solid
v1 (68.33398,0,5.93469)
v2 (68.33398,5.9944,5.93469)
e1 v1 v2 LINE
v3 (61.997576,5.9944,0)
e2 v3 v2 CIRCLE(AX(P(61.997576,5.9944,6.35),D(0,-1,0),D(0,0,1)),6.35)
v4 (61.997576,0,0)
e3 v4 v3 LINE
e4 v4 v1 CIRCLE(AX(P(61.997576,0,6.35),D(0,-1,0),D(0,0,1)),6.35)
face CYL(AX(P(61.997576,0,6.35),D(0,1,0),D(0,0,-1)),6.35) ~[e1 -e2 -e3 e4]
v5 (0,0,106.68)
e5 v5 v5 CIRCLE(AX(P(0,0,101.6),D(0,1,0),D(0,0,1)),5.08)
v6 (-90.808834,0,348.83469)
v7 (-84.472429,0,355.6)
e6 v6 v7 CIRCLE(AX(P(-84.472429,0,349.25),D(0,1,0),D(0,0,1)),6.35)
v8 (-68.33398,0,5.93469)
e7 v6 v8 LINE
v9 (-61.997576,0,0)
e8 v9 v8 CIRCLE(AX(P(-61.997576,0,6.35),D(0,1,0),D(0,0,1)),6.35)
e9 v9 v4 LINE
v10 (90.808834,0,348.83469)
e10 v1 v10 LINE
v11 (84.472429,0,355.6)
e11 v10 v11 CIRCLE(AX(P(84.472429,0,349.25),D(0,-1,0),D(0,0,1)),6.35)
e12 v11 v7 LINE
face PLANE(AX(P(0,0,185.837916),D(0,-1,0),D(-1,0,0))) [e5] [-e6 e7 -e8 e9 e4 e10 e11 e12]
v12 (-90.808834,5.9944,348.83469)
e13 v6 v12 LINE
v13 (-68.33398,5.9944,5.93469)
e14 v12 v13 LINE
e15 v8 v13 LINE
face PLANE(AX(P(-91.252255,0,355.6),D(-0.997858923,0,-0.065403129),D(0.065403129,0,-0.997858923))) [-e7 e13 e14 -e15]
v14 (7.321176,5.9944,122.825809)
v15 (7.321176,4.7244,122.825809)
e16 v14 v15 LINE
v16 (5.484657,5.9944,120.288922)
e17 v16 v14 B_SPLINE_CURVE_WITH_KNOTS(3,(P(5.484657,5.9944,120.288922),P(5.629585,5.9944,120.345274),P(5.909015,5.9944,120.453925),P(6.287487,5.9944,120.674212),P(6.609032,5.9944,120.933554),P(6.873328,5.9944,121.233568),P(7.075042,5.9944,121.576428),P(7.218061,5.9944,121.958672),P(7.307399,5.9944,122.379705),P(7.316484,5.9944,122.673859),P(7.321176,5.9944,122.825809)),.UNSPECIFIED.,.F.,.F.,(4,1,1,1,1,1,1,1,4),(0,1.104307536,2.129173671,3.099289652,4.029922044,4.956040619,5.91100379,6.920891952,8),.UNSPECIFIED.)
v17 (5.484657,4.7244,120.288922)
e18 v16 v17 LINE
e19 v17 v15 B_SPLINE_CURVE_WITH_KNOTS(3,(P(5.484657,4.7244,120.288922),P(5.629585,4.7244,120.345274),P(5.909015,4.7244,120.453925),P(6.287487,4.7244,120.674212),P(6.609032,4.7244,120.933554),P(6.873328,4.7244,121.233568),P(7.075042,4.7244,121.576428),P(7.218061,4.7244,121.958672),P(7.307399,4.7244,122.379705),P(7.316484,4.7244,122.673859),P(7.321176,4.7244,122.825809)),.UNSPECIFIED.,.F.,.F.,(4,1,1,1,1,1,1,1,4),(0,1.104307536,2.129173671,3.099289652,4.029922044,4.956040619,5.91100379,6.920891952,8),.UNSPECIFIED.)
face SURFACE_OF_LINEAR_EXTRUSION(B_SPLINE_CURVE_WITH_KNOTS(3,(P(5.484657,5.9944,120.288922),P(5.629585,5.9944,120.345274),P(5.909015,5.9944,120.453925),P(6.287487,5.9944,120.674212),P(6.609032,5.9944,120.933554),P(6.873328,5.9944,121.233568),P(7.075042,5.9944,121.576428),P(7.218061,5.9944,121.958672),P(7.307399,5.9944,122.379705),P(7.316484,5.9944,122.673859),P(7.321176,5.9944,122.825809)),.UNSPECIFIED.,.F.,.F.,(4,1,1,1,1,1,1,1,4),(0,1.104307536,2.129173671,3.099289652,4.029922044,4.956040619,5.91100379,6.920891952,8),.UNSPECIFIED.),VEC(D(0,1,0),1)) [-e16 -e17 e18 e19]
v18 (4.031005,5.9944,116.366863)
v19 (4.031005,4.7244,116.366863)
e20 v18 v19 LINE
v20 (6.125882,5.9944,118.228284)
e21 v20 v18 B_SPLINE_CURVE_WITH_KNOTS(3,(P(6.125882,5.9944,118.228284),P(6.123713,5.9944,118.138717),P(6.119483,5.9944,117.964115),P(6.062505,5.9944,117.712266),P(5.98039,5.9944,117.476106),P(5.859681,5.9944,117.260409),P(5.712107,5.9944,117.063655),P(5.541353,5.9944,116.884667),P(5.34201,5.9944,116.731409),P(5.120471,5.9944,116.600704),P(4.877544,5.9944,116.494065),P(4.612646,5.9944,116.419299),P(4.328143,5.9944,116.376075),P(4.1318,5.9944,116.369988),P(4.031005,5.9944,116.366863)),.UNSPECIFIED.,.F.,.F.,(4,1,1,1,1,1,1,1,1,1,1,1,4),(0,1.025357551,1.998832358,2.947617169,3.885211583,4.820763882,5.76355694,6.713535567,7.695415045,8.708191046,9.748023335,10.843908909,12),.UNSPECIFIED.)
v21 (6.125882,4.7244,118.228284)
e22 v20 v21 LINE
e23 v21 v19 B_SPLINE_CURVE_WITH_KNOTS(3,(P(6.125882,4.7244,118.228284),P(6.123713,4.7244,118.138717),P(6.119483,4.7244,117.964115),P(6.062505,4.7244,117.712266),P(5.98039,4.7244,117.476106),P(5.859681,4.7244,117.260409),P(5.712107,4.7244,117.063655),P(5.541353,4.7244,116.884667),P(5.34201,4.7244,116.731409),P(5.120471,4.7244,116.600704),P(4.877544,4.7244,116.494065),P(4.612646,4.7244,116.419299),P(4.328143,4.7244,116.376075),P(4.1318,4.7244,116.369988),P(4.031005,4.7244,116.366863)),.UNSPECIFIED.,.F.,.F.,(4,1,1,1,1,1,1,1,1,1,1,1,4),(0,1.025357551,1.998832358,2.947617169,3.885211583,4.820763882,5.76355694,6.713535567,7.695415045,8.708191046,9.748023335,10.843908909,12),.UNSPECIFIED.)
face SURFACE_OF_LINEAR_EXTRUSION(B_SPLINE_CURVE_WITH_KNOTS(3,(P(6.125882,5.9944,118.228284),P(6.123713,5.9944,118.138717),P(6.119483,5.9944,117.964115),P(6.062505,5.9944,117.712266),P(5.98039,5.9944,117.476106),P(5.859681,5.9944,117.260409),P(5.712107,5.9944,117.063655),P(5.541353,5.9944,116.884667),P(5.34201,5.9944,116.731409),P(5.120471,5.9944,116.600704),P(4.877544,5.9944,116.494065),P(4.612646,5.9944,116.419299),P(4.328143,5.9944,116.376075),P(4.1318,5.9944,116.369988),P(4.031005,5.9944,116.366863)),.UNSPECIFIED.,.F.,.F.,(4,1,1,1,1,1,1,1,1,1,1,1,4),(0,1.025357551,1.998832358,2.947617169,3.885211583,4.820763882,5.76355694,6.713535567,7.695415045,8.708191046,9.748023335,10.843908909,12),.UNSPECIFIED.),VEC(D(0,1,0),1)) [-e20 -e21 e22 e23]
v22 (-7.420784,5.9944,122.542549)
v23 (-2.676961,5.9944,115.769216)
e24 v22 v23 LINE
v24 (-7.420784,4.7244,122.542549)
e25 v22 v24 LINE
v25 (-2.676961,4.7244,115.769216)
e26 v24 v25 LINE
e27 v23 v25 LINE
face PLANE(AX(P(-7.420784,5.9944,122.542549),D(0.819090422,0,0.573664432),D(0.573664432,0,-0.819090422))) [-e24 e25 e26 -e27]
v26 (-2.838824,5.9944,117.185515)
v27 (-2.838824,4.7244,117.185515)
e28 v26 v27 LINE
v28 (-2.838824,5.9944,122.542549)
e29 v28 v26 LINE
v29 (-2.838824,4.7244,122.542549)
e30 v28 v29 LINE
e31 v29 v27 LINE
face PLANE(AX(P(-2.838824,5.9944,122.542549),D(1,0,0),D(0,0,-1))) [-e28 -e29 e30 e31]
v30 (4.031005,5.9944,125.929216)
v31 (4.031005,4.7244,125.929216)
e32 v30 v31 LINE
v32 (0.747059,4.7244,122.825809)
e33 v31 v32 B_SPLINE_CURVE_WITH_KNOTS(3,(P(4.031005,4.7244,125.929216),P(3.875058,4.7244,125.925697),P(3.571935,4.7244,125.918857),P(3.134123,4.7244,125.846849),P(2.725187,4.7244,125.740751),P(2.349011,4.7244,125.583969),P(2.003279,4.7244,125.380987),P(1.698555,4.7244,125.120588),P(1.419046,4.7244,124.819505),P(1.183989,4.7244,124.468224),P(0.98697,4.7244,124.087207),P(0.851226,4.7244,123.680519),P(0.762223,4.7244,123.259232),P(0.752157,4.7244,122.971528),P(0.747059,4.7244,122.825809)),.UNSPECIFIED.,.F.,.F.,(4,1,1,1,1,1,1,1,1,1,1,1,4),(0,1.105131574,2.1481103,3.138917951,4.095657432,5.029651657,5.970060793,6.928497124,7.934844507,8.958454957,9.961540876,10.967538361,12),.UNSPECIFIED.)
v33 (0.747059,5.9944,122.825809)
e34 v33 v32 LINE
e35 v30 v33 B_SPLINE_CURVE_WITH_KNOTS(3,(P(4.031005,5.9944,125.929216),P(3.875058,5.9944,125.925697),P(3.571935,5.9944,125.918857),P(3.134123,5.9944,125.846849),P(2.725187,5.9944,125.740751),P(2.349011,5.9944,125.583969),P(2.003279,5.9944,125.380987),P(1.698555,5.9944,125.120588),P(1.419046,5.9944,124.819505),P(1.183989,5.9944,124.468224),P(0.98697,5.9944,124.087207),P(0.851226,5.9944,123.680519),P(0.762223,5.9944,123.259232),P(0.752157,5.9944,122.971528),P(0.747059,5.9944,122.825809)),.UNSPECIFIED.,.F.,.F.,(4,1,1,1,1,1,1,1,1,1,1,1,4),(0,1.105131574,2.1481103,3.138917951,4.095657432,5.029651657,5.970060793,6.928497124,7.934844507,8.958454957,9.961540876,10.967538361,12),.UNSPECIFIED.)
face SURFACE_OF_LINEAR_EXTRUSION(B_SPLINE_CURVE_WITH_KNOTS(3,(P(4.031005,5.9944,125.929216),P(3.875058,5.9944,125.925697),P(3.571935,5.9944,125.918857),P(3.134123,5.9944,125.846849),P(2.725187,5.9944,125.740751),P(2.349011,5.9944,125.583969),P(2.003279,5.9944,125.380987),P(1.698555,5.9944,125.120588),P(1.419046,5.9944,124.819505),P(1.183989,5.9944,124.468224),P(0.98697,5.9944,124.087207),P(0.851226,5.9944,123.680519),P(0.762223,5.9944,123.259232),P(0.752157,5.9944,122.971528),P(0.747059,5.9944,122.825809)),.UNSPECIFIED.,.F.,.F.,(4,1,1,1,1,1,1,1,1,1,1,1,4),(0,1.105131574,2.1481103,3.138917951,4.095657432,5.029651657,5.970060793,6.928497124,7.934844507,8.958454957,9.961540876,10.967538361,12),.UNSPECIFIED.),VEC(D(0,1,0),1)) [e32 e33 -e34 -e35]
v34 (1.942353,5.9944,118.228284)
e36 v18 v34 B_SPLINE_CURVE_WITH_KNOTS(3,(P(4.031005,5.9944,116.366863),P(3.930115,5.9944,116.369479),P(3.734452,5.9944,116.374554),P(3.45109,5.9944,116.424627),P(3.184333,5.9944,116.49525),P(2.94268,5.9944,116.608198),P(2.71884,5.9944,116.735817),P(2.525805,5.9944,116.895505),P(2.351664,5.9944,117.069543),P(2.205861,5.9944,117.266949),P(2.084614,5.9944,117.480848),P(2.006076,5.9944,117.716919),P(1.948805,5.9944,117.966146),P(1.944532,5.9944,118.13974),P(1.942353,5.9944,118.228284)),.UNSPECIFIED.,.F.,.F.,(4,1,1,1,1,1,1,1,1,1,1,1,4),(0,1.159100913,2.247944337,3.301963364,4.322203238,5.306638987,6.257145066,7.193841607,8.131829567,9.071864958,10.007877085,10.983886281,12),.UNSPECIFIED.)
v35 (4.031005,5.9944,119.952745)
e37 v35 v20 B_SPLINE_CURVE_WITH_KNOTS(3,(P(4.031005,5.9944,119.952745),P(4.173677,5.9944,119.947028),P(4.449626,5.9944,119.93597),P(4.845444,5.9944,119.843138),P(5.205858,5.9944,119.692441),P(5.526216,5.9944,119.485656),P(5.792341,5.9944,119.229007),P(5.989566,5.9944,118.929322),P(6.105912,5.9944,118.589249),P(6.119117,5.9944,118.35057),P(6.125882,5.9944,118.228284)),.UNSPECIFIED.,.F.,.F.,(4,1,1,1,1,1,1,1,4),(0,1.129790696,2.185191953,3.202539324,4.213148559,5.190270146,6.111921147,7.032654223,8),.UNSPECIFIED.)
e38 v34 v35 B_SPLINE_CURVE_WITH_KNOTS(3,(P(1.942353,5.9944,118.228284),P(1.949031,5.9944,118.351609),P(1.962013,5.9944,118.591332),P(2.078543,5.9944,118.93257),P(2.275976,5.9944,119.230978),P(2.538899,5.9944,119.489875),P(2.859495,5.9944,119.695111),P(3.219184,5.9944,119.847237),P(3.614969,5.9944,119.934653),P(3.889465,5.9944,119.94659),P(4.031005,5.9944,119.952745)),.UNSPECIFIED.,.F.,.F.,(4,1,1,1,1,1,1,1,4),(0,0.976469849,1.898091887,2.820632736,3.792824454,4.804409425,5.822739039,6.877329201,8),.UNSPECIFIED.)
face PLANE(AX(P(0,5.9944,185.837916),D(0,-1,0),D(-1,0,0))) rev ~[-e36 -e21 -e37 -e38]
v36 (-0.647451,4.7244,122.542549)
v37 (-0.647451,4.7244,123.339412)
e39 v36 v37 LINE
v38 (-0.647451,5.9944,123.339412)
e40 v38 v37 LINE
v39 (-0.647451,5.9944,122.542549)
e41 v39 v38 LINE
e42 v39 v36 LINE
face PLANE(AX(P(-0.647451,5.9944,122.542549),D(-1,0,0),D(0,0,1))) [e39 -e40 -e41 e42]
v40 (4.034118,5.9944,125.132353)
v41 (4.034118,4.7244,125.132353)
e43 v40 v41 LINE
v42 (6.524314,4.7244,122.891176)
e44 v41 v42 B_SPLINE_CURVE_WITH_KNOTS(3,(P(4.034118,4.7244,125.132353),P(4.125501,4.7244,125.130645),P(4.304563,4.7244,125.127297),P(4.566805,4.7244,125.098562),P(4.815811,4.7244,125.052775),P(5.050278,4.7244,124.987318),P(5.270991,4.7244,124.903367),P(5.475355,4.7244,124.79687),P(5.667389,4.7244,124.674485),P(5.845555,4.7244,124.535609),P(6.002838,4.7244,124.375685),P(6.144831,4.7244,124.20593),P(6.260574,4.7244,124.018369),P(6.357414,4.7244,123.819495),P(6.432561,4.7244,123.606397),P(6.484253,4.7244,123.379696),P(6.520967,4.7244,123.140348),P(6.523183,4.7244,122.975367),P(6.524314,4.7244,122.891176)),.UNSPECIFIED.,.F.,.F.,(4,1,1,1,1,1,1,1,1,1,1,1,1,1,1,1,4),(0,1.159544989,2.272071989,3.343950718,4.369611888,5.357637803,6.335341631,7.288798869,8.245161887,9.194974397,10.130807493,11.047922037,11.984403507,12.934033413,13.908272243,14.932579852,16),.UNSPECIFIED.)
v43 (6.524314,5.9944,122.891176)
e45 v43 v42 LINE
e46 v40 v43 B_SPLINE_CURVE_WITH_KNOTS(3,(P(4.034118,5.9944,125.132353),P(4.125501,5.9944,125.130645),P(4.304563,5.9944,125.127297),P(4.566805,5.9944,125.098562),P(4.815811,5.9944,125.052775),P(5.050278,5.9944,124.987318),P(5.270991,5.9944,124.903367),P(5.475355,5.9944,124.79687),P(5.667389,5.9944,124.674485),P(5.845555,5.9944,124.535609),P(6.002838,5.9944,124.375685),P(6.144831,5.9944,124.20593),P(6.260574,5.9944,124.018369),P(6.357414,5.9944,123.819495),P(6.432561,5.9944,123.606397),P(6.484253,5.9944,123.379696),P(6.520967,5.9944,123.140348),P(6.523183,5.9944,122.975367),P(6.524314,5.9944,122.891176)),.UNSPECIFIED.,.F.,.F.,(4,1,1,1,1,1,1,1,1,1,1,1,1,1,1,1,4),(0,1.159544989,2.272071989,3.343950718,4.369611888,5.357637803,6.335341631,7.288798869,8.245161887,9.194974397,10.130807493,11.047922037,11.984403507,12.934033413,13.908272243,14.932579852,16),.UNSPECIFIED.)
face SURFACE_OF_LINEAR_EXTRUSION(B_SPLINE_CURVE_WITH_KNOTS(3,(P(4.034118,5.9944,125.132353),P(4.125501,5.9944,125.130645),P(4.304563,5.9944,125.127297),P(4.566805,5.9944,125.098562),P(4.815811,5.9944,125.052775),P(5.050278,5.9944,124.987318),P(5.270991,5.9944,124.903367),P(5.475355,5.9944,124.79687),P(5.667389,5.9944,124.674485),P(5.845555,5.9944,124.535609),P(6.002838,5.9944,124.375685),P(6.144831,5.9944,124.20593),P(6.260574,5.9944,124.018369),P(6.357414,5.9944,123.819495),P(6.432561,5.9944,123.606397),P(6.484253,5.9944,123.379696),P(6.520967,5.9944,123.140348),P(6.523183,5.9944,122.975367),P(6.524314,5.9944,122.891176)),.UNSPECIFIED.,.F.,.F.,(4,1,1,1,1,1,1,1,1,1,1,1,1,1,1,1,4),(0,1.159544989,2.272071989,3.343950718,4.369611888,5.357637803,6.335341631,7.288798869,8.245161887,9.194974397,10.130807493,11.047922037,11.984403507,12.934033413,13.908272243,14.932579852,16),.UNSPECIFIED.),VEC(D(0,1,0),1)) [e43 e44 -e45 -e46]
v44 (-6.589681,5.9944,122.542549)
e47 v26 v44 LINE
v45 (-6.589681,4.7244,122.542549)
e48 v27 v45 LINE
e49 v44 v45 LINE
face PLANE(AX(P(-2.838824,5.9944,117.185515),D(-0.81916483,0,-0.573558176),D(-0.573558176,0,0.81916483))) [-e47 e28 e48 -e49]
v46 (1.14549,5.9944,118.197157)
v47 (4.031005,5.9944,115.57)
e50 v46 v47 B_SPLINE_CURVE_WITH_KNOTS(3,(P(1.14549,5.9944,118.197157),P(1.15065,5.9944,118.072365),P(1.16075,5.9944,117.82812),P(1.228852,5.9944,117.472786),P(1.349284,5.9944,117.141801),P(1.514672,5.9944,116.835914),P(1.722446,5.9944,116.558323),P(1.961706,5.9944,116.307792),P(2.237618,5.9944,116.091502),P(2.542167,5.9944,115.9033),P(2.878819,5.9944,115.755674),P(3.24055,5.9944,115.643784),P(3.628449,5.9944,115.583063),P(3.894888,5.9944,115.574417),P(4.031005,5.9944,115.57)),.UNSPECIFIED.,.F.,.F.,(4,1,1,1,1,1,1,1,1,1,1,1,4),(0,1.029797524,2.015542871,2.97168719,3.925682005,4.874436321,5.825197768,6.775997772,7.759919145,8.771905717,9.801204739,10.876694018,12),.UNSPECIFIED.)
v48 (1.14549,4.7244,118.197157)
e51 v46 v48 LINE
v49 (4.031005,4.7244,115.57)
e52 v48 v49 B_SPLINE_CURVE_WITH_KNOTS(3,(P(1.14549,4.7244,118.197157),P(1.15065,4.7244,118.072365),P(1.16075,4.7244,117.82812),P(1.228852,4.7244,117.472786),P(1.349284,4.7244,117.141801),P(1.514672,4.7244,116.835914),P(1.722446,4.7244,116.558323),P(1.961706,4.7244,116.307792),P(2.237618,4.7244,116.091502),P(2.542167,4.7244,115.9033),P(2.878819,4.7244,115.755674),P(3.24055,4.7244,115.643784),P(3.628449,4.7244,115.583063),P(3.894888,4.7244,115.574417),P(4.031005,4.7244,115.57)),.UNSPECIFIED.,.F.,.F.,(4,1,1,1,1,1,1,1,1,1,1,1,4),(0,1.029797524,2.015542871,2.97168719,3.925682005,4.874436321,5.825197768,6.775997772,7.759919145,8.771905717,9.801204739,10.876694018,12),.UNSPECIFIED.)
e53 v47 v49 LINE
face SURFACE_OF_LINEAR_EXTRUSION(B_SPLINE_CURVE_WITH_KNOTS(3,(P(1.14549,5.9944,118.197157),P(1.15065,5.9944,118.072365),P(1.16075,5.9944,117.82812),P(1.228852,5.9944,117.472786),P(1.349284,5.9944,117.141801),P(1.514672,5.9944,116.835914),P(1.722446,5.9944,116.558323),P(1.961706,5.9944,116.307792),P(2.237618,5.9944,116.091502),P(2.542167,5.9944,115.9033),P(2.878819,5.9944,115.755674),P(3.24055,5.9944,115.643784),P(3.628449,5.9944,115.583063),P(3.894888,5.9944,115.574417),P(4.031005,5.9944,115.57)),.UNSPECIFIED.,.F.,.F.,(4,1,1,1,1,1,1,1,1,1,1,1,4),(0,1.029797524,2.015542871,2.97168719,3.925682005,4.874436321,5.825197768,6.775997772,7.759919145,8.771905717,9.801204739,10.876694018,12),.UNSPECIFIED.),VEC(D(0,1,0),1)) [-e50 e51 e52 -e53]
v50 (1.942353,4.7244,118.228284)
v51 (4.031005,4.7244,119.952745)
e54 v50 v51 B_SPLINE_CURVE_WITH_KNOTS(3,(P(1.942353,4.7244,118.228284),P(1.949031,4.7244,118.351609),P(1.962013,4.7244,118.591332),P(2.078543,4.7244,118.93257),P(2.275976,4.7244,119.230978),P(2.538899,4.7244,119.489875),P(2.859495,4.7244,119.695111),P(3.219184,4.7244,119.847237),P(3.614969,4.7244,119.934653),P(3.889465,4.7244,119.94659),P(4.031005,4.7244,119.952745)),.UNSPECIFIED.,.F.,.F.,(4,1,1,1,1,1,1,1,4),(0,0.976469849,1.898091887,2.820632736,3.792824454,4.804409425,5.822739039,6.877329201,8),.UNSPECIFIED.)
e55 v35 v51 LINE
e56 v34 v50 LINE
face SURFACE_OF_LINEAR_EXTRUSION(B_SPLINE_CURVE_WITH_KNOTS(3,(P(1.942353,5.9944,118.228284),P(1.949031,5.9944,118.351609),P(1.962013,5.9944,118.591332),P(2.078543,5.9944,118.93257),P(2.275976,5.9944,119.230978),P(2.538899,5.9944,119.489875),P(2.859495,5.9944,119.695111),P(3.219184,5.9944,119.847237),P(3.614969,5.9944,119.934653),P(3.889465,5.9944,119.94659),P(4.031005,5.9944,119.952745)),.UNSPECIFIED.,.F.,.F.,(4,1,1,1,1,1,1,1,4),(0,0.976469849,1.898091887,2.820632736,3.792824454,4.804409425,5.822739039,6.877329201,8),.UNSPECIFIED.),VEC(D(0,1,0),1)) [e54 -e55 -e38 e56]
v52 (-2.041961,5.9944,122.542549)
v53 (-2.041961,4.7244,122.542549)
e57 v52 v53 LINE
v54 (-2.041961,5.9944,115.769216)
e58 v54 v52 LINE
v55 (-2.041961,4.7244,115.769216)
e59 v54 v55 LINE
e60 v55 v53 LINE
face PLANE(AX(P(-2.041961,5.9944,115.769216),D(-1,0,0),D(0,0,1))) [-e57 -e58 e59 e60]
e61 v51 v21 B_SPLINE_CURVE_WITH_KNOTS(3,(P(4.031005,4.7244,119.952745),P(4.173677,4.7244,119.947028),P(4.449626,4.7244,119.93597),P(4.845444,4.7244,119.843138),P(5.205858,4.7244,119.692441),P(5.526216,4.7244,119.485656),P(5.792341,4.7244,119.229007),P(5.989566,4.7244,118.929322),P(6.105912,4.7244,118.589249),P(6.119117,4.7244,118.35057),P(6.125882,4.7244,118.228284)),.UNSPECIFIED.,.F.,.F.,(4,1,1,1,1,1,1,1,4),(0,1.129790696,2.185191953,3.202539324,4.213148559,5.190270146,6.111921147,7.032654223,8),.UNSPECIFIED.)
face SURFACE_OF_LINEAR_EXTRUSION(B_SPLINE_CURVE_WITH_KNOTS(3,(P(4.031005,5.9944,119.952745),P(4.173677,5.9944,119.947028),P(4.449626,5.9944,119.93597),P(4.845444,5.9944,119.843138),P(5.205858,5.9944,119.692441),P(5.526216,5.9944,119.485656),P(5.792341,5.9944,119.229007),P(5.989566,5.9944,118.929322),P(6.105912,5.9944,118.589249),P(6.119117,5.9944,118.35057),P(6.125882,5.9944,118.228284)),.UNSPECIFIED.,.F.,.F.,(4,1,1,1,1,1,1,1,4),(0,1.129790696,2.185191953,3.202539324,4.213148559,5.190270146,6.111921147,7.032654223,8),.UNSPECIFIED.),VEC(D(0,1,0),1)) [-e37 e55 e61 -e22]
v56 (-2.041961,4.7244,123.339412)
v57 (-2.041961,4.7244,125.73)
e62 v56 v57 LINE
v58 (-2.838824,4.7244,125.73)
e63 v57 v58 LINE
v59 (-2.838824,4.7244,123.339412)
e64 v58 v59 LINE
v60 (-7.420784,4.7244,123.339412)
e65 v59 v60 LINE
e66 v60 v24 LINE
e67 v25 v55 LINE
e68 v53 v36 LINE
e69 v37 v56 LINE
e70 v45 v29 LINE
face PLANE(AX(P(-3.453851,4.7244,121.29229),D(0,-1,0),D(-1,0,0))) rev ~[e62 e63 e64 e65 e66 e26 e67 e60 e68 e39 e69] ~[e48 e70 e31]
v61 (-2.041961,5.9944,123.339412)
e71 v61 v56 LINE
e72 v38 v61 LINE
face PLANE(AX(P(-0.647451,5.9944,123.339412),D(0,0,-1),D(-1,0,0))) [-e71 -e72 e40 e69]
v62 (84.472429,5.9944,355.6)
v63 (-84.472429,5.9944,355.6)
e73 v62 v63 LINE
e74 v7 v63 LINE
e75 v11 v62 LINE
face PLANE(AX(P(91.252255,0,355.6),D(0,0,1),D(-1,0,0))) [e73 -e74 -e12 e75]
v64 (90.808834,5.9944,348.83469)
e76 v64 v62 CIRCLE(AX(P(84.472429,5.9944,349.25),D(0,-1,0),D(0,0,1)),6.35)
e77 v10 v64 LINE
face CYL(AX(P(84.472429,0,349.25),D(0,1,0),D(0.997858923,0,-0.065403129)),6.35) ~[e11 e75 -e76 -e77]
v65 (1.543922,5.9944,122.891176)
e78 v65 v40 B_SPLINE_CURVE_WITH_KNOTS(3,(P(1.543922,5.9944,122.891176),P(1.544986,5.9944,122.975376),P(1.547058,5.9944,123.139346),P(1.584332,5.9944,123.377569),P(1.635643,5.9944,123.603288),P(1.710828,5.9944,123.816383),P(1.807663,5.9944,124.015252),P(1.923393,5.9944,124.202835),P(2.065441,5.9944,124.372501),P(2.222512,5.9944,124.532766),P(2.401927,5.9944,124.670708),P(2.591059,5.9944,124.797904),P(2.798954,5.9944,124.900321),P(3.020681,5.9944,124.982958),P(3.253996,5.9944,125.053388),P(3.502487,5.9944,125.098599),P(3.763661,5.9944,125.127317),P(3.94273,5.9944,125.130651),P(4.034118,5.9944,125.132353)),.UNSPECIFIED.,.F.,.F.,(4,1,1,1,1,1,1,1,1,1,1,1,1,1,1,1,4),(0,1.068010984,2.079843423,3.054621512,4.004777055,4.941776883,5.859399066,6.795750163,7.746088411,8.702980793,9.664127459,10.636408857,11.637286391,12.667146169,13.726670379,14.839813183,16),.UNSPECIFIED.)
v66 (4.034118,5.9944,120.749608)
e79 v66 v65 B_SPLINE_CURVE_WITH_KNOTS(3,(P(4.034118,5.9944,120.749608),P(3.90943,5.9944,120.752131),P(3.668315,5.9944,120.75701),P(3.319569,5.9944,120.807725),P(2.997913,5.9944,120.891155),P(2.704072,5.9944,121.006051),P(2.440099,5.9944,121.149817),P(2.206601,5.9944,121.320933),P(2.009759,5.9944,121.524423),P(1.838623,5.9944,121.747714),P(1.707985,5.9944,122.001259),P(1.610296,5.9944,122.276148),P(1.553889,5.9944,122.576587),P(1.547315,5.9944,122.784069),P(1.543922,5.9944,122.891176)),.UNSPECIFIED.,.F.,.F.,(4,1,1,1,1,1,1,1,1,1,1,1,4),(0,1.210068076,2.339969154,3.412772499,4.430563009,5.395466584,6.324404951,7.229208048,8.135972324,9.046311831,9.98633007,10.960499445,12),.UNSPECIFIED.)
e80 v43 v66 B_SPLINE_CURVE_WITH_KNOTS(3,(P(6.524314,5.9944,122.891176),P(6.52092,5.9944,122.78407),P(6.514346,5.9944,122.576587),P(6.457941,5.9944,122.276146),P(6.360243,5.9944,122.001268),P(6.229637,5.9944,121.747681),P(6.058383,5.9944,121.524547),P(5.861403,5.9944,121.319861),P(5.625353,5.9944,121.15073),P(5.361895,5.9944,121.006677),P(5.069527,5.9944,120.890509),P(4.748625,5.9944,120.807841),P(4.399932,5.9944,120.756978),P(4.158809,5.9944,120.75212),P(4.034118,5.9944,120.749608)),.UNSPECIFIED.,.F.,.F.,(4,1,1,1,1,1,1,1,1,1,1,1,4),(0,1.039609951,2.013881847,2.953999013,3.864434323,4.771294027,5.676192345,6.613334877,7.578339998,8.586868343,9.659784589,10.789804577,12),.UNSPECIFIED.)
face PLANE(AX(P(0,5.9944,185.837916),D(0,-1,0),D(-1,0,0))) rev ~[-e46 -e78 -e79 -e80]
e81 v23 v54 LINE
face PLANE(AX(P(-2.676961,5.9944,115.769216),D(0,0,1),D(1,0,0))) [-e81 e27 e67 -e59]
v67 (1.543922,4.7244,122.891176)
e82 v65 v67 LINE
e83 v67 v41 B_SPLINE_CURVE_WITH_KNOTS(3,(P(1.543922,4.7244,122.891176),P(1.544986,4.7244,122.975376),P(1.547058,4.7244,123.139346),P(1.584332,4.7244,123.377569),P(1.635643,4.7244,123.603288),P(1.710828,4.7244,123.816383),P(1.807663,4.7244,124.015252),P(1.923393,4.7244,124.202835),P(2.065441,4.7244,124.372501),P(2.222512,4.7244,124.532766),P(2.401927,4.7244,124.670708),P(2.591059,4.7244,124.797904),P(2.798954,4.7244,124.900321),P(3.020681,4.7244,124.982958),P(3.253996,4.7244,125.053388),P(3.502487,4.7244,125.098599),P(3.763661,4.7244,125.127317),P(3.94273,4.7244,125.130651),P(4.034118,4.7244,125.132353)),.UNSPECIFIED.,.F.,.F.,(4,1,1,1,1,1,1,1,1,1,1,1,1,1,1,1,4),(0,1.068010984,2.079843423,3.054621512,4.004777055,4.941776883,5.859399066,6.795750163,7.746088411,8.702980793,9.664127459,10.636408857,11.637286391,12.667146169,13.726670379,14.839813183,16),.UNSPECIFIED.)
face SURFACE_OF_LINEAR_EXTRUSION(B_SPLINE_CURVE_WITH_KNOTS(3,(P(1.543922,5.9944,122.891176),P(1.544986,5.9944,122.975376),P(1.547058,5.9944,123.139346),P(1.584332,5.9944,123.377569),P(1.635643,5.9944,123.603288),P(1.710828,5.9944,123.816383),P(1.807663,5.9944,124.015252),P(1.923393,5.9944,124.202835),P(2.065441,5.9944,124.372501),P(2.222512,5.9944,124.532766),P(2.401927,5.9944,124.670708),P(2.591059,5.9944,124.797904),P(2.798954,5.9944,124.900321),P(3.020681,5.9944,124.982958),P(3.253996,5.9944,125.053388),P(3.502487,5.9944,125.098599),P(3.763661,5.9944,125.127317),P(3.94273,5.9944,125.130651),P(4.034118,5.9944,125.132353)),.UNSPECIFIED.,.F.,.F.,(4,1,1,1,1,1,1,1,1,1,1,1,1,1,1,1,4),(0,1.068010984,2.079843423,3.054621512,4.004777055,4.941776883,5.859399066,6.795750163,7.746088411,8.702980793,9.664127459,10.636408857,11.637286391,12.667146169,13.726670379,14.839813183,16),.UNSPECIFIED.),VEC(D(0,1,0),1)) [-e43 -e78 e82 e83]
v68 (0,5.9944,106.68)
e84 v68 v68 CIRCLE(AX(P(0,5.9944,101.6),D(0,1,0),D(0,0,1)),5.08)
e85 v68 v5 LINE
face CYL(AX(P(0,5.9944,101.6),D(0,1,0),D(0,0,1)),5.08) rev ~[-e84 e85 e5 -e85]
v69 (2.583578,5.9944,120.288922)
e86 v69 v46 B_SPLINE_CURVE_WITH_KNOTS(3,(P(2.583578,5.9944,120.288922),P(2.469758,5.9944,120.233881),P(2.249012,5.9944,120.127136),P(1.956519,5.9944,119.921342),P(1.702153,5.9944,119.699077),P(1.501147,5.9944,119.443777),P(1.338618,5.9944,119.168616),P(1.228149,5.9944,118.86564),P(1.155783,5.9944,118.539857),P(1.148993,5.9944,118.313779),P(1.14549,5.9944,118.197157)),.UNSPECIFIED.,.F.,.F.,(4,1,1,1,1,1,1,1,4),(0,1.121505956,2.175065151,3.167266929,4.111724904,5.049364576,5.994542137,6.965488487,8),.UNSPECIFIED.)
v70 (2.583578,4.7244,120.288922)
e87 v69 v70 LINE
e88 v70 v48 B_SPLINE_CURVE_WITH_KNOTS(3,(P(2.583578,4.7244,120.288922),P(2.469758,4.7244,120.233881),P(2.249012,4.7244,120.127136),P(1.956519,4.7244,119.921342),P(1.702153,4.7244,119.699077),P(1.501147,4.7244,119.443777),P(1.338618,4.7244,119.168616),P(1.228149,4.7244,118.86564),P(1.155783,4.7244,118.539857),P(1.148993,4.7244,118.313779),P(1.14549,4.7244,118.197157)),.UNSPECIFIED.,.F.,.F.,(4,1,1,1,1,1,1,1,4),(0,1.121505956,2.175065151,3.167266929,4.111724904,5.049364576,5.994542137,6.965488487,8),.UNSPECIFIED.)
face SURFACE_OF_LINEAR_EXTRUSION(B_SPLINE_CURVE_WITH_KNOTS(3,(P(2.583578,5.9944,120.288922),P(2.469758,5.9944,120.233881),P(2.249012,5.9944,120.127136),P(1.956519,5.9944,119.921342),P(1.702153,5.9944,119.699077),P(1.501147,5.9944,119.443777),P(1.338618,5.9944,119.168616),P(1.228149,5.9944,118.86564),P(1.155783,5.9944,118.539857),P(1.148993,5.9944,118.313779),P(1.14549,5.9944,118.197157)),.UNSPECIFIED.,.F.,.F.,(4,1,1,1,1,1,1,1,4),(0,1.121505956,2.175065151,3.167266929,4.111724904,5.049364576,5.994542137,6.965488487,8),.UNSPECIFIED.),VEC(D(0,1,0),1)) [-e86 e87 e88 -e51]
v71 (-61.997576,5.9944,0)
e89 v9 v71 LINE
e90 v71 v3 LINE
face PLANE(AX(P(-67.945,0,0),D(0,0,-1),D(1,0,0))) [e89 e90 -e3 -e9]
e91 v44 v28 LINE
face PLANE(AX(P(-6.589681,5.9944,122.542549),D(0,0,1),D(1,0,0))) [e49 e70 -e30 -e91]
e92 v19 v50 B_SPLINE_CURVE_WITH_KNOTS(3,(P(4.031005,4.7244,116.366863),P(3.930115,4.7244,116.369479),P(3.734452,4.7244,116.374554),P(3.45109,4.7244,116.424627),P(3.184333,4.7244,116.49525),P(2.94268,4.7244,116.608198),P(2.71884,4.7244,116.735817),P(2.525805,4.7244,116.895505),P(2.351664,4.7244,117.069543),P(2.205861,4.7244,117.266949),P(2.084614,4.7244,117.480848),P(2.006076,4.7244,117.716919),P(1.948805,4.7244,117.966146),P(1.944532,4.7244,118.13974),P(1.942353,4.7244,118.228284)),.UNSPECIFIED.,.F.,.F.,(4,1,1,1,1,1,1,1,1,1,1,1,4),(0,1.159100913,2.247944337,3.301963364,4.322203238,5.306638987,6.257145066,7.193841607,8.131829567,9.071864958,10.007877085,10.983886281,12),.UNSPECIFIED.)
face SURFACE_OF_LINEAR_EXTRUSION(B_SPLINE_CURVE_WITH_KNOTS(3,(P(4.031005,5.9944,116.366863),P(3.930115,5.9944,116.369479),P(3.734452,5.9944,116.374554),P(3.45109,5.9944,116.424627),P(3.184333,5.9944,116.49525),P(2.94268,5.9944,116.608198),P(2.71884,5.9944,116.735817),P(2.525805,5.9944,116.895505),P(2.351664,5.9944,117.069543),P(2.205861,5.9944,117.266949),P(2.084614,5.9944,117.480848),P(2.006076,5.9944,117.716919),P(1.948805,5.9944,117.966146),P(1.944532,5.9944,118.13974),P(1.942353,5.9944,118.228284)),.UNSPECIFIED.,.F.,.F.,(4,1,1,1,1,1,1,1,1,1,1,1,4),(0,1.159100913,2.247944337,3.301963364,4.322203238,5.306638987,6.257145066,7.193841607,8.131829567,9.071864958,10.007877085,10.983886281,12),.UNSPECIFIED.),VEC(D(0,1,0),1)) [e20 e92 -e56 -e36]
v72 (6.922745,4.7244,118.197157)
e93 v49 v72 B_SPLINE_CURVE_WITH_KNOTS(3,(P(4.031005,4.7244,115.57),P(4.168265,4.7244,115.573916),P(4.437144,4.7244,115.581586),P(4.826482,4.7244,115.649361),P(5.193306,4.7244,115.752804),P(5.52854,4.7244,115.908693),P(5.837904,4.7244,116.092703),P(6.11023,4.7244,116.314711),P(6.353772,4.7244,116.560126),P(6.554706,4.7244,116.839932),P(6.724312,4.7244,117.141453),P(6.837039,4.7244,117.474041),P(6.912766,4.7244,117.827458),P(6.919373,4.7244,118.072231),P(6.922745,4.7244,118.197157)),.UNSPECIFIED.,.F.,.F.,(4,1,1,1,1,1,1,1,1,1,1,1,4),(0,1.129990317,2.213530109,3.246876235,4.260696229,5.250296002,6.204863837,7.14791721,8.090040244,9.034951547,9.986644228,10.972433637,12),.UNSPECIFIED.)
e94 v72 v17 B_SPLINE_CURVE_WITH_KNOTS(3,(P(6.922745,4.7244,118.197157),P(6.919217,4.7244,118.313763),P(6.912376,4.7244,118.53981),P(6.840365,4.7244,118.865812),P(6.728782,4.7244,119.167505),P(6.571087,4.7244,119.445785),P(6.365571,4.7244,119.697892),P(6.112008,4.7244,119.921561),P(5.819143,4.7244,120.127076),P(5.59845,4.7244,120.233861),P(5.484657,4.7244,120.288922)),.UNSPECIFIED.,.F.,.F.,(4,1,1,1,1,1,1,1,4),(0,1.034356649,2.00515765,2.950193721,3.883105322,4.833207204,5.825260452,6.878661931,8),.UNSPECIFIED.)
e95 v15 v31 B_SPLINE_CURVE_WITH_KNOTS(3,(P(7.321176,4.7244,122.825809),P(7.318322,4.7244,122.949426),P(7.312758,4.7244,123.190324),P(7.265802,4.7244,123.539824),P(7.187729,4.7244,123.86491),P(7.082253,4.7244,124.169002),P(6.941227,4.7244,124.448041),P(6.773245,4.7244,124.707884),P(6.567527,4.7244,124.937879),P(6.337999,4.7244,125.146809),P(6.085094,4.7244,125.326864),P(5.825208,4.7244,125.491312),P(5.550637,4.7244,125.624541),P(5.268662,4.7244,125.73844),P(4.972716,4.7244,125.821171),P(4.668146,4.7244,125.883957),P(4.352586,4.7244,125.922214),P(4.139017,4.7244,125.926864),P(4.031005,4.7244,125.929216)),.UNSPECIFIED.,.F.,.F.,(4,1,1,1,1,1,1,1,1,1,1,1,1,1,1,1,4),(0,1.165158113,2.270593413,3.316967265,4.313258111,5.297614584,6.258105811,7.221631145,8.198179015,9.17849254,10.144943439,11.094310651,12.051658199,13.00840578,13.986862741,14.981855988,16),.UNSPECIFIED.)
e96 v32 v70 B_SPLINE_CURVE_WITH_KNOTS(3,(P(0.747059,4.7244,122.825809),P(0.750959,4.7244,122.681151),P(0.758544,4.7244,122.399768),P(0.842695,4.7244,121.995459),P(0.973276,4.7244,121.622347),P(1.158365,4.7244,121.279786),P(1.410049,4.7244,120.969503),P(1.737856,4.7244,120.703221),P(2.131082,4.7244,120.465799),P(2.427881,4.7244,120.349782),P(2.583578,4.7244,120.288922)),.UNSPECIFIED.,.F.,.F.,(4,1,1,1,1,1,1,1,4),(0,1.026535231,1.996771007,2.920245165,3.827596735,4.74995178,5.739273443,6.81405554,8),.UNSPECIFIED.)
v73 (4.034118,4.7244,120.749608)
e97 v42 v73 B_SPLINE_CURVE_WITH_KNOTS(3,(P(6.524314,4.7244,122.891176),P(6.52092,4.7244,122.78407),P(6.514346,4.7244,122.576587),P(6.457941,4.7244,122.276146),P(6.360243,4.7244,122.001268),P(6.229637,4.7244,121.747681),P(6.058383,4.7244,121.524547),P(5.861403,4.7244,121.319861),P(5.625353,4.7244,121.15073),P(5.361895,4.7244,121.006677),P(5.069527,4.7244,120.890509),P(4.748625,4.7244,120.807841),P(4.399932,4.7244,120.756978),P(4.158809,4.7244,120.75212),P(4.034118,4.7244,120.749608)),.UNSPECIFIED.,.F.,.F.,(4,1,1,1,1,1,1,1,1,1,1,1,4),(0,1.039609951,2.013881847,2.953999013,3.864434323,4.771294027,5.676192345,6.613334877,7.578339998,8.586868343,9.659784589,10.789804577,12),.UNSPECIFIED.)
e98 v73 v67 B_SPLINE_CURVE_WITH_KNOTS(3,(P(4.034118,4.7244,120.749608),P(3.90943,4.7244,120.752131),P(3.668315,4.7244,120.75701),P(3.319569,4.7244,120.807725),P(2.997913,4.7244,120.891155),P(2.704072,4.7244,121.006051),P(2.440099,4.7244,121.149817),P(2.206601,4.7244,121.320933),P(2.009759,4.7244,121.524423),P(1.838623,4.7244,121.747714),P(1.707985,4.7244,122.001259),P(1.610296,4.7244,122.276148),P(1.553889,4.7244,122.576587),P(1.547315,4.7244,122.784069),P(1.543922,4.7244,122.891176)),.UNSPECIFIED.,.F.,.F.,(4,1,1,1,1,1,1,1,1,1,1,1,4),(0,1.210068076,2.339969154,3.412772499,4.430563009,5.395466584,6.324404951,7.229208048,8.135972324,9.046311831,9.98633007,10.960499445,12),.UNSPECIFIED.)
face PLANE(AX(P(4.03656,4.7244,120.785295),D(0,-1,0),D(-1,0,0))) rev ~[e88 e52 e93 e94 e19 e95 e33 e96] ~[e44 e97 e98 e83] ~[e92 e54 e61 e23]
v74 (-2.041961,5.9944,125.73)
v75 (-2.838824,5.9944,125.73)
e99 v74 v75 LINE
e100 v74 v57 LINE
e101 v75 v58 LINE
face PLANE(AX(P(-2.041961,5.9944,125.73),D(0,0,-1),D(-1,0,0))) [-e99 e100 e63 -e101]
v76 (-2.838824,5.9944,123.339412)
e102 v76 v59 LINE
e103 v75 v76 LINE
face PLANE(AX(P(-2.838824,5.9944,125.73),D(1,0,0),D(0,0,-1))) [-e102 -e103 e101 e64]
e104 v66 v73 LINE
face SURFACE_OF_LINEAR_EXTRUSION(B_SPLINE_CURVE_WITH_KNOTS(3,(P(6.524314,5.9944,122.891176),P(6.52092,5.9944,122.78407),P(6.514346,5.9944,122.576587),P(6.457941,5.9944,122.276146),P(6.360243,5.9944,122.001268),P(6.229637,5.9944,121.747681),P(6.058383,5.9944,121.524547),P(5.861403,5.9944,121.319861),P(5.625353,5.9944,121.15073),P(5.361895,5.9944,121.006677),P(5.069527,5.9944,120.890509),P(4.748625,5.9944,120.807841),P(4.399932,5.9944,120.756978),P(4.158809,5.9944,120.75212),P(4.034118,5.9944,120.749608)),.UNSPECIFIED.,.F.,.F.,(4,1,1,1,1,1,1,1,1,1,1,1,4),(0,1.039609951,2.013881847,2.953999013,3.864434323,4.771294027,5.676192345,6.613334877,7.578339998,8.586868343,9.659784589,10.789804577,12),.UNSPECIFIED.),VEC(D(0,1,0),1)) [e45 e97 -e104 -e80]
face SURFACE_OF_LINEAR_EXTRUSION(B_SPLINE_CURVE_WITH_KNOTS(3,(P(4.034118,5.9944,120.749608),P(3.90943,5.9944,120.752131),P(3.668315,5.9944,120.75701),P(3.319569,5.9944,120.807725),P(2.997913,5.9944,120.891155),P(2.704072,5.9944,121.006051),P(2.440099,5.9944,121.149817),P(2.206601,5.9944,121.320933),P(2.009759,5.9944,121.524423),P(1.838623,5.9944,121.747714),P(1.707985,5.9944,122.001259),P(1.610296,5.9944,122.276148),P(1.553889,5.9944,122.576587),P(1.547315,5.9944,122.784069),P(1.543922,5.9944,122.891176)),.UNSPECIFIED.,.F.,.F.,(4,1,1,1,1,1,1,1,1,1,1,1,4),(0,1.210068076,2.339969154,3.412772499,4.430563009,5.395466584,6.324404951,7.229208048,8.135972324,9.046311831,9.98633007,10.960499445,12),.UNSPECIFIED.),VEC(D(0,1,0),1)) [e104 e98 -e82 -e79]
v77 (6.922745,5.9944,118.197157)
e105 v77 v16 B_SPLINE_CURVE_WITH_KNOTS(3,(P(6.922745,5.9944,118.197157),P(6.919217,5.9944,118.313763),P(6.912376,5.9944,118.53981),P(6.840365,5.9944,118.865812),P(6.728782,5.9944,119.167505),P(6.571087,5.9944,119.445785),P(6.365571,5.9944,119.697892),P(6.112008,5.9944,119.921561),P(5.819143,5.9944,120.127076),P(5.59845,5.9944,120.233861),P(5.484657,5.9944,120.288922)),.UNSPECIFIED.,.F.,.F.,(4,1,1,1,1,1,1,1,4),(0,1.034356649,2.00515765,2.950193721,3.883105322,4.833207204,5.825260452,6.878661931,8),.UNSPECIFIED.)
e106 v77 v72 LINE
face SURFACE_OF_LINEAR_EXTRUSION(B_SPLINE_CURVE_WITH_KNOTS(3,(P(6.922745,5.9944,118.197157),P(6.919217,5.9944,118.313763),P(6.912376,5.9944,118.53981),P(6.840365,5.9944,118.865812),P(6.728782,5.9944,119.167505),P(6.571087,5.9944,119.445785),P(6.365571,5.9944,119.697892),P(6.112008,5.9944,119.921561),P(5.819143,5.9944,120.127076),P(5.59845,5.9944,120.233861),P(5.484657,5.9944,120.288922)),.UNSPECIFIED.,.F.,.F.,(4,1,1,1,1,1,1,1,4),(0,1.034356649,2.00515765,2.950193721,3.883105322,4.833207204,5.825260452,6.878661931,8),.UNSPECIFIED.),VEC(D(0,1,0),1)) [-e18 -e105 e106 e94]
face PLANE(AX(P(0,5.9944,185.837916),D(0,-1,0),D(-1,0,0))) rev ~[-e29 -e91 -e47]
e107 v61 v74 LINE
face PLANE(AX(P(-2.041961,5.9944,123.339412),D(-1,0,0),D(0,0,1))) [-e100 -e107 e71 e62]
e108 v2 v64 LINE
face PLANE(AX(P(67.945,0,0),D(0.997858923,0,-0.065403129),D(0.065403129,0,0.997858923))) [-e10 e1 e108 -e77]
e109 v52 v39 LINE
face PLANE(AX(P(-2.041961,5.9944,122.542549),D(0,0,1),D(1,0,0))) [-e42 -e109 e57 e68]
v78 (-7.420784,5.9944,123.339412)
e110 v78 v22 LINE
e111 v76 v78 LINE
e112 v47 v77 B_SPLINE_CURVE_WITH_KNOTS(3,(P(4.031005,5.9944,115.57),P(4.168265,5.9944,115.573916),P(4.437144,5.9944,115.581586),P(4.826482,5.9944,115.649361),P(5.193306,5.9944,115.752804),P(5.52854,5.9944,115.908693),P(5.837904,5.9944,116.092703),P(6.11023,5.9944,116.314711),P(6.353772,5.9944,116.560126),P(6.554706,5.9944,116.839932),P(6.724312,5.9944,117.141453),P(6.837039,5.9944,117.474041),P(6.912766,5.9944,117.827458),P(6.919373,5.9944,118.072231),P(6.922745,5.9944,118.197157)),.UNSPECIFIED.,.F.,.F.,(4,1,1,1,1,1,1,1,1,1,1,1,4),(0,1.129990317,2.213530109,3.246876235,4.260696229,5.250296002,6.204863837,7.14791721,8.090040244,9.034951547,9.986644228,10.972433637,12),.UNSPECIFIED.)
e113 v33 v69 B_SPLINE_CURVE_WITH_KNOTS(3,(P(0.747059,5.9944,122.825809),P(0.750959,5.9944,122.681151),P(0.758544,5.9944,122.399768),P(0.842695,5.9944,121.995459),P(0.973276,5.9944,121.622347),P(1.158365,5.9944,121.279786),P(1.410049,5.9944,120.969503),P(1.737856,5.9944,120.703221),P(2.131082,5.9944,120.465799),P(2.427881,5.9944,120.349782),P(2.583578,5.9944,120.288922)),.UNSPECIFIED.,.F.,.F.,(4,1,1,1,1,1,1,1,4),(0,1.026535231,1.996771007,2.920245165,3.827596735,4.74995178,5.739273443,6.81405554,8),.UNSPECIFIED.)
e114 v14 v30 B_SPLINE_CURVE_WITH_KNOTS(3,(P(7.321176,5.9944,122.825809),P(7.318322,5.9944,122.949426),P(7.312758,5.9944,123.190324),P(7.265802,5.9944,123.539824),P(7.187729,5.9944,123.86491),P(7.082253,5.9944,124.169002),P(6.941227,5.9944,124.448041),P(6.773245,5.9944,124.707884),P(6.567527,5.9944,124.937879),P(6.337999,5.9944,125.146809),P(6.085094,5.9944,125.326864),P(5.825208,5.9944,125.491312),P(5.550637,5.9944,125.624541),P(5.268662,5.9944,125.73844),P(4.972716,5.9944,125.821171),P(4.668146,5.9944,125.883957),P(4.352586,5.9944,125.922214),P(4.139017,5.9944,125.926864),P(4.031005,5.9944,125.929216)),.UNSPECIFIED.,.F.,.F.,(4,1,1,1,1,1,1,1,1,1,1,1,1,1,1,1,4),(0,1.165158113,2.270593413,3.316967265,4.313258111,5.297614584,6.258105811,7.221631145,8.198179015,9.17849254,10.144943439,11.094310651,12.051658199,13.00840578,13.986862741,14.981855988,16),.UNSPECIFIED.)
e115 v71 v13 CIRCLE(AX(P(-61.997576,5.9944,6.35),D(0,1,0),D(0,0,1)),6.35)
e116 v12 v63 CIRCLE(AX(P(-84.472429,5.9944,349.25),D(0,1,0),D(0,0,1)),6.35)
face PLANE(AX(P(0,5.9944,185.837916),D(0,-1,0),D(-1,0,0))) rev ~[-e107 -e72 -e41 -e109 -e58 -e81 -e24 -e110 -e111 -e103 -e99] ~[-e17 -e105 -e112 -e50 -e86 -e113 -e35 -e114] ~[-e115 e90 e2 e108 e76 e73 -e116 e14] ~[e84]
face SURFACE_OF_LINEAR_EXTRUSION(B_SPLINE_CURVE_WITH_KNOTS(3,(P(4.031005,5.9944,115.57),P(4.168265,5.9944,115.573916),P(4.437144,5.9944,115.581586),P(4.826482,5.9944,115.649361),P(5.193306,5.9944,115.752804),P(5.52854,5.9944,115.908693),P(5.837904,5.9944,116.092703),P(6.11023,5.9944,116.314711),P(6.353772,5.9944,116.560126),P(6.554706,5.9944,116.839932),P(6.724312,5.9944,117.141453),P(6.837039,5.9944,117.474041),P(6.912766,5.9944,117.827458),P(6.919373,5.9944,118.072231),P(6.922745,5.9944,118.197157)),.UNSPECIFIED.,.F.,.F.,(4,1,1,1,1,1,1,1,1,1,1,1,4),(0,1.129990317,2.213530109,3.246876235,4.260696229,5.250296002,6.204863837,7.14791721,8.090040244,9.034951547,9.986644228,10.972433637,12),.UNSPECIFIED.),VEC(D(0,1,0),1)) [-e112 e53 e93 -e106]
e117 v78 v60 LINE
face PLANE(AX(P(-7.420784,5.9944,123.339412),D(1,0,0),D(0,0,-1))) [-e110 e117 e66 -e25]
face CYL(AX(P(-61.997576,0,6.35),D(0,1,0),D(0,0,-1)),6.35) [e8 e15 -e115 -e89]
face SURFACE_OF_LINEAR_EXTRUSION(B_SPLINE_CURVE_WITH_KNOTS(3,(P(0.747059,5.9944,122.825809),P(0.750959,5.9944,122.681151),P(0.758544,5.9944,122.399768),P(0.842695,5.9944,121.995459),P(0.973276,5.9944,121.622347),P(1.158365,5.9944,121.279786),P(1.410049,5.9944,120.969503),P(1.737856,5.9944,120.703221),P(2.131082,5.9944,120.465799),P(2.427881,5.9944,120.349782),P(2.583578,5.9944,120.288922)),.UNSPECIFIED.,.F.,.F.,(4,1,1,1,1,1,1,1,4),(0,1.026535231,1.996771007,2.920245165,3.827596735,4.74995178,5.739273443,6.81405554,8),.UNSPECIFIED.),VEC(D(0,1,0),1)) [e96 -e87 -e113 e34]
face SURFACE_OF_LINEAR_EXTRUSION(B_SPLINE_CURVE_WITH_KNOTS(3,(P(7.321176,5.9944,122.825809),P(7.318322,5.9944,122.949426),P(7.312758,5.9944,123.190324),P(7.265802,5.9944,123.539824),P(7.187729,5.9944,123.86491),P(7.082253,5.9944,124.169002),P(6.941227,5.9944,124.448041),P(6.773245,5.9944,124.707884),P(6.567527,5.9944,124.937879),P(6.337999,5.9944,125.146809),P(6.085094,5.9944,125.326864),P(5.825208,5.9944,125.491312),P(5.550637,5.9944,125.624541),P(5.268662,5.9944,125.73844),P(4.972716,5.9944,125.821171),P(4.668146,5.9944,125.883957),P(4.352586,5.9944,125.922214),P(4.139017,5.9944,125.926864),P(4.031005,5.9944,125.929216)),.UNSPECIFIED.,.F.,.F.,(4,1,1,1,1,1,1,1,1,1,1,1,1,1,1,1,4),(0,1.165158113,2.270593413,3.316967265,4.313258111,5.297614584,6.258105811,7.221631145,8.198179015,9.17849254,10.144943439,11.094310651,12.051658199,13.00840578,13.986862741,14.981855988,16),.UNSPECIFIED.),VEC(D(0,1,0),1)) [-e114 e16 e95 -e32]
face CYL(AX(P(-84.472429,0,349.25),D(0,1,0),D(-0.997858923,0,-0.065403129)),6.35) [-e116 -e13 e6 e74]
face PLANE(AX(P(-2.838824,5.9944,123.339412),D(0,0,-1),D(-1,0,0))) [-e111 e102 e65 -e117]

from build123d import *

# Parameters (mm, degrees)
BOSS_EXTRUDE1_DEPTH = 5.9944
SKETCH2_R           = 5.08
CUT_EXTRUDE1_DEPTH  = 368.170623747
CUT_EXTRUDE2_DEPTH  = 1.27
FILLET1_R           = 6.35


with BuildPart() as part:
    # Sketch1 → Boss-Extrude1 (new body)
    with BuildSketch(Plane(origin=(0, 0, 0), x_dir=(1, 0, 0), z_dir=(0, 1, 0))):
        Polygon((-67.945, 0), (67.945, 0), (91.252255377, -355.6), (-91.252255377, -355.6), align=None)
    extrude(amount=BOSS_EXTRUDE1_DEPTH)

    # Sketch2 → Cut-Extrude1 (cut, through all)
    with BuildSketch(Plane(origin=(0, 5.9944, 0), x_dir=(1, 0, 0), z_dir=(0, 1, 0))):
        with Locations(Location((0, -101.6, 0), (0, 0, 270))):
            Circle(SKETCH2_R)
    extrude(amount=-CUT_EXTRUDE1_DEPTH, mode=Mode.SUBTRACT)

    # Sketch3 → Cut-Extrude2 (cut)
    # profile 1 of 2: a face of its own
    with BuildSketch(Plane(origin=(0, 5.9944, 0), x_dir=(1, 0, 0), z_dir=(0, 1, 0))):
        Polygon((-0.64745098, -123.339411765), (-2.041960784, -123.339411765), (-2.041960784, -125.73), (-2.838823529, -125.73), (-2.838823529, -123.339411765), (-7.420784314, -123.339411765), (-7.420784314, -122.54254902), (-2.676960784, -115.769215686), (-2.041960784, -115.769215686), (-2.041960784, -122.54254902), (-0.64745098, -122.54254902), align=None)
        Polygon((-2.838823529, -122.54254902), (-2.838823529, -117.185514706), (-6.589681373, -122.54254902), align=None, mode=Mode.SUBTRACT)
    # profile 2 of 2: a face of its own
    with BuildSketch(Plane(origin=(0, 5.9944, 0), x_dir=(1, 0, 0), z_dir=(0, 1, 0))):
        with BuildLine():
            add(Edge.make_bspline(
                [(2.583578431, -120.288921569), (2.469757768, -120.233881465), (2.249012298, -120.12713588), (1.956518664, -119.921342429), (1.702152679, -119.699076506), (1.501146738, -119.44377738), (1.338617892, -119.168616459), (1.228149162, -118.865639865), (1.155782886, -118.539856671), (1.148992832, -118.313778727), (1.145490196, -118.197156863)],
                knots=[0, 0, 0, 0, 1.121505956, 2.175065151, 3.167266929, 4.111724904, 5.049364576, 5.994542137, 6.965488487, 8, 8, 8, 8], degree=3))
            add(Edge.make_bspline(
                [(1.145490196, -118.197156863), (1.150650446, -118.072365116), (1.160750204, -117.828119903), (1.228851738, -117.472785505), (1.349283719, -117.141800757), (1.514672213, -116.835914328), (1.722446411, -116.558323216), (1.961706137, -116.307792449), (2.237618257, -116.091502351), (2.542166789, -115.903299875), (2.878819269, -115.755673627), (3.240549794, -115.643784068), (3.628448984, -115.583063263), (3.894888198, -115.574417097), (4.031004902, -115.57)],
                knots=[0, 0, 0, 0, 1.029797524, 2.015542871, 2.97168719, 3.925682005, 4.874436321, 5.825197768, 6.775997772, 7.759919145, 8.771905717, 9.801204739, 10.876694018, 12, 12, 12, 12], degree=3))
            add(Edge.make_bspline(
                [(4.031004902, -115.57), (4.168265453, -115.573915681), (4.437144184, -115.581586081), (4.826482227, -115.649360813), (5.193306386, -115.752803643), (5.528540282, -115.908692567), (5.837903626, -116.092702905), (6.1102298, -116.31471085), (6.35377186, -116.560126292), (6.554706316, -116.839931798), (6.724312123, -117.141452673), (6.837039409, -117.474041466), (6.912766198, -117.827458116), (6.919373101, -118.072230943), (6.922745098, -118.197156863)],
                knots=[0, 0, 0, 0, 1.129990317, 2.213530109, 3.246876235, 4.260696229, 5.250296002, 6.204863837, 7.14791721, 8.090040244, 9.034951547, 9.986644228, 10.972433637, 12, 12, 12, 12], degree=3))
            add(Edge.make_bspline(
                [(6.922745098, -118.197156863), (6.919216595, -118.313762788), (6.912376396, -118.539809833), (6.840365414, -118.865811955), (6.728782095, -119.16750517), (6.571087227, -119.445784939), (6.365570739, -119.697892228), (6.112007529, -119.921560928), (5.819142842, -120.127075675), (5.598450258, -120.233860983), (5.484656863, -120.288921569)],
                knots=[0, 0, 0, 0, 1.034356649, 2.00515765, 2.950193721, 3.883105322, 4.833207204, 5.825260452, 6.878661931, 8, 8, 8, 8], degree=3))
            add(Edge.make_bspline(
                [(5.484656863, -120.288921569), (5.629584904, -120.345274008), (5.909015189, -120.453925018), (6.287487251, -120.674211509), (6.609031926, -120.93355376), (6.873327893, -121.233567804), (7.075041903, -121.576427985), (7.218061472, -121.958672451), (7.307398658, -122.379704945), (7.316483523, -122.673858557), (7.321176471, -122.825808824)],
                knots=[0, 0, 0, 0, 1.104307536, 2.129173671, 3.099289652, 4.029922044, 4.956040619, 5.91100379, 6.920891952, 8, 8, 8, 8], degree=3))
            add(Edge.make_bspline(
                [(7.321176471, -122.825808824), (7.318321613, -122.949426035), (7.312758231, -123.190324178), (7.265802022, -123.539824084), (7.187729342, -123.864910338), (7.08225254, -124.169001718), (6.941227364, -124.448040534), (6.773245337, -124.7078841), (6.567526726, -124.937879056), (6.337999195, -125.1468091), (6.085093931, -125.326864216), (5.825207776, -125.49131202), (5.550637227, -125.624540533), (5.268662499, -125.738439853), (4.972715633, -125.821171296), (4.668146304, -125.883957252), (4.352586022, -125.922213573), (4.139017278, -125.926863823), (4.031004902, -125.929215686)],
                knots=[0, 0, 0, 0, 1.165158113, 2.270593413, 3.316967265, 4.313258111, 5.297614584, 6.258105811, 7.221631145, 8.198179015, 9.17849254, 10.144943439, 11.094310651, 12.051658199, 13.00840578, 13.986862741, 14.981855988, 16, 16, 16, 16], degree=3))
            add(Edge.make_bspline(
                [(4.031004902, -125.929215686), (3.875058258, -125.925696781), (3.571935445, -125.918856875), (3.134122695, -125.846848764), (2.72518677, -125.740751294), (2.34901118, -125.583969435), (2.003278658, -125.380987257), (1.698555205, -125.12058817), (1.419046499, -124.819504607), (1.183989068, -124.46822424), (0.986969857, -124.087207102), (0.851225779, -123.680518964), (0.762222762, -123.259231693), (0.752157029, -122.971528144), (0.747058824, -122.825808824)],
                knots=[0, 0, 0, 0, 1.105131574, 2.1481103, 3.138917951, 4.095657432, 5.029651657, 5.970060793, 6.928497124, 7.934844507, 8.958454957, 9.961540876, 10.967538361, 12, 12, 12, 12], degree=3))
            add(Edge.make_bspline(
                [(0.747058824, -122.825808824), (0.750958552, -122.681150729), (0.75854413, -122.399768191), (0.842695471, -121.995459368), (0.973276047, -121.622346822), (1.158365157, -121.279786493), (1.410049218, -120.969502557), (1.737856358, -120.703220915), (2.131081537, -120.465798713), (2.427881476, -120.34978217), (2.583578431, -120.288921569)],
                knots=[0, 0, 0, 0, 1.026535231, 1.996771007, 2.920245165, 3.827596735, 4.74995178, 5.739273443, 6.81405554, 8, 8, 8, 8], degree=3))
        make_face()
        with BuildLine():
            add(Edge.make_bspline(
                [(6.125882353, -118.228284314), (6.123712551, -118.138717354), (6.119482737, -117.964115492), (6.062504916, -117.712266336), (5.98038969, -117.47610598), (5.859680999, -117.260408538), (5.712107035, -117.063654994), (5.541353334, -116.884667003), (5.342009506, -116.731408764), (5.12047127, -116.600704242), (4.877544231, -116.494065356), (4.612645581, -116.419299497), (4.328142503, -116.37607471), (4.131800472, -116.369987645), (4.031004902, -116.366862745)],
                knots=[0, 0, 0, 0, 1.025357551, 1.998832358, 2.947617169, 3.885211583, 4.820763882, 5.76355694, 6.713535567, 7.695415045, 8.708191046, 9.748023335, 10.843908909, 12, 12, 12, 12], degree=3))
            add(Edge.make_bspline(
                [(4.031004902, -116.366862745), (3.930115428, -116.369479246), (3.734451772, -116.374553651), (3.45109005, -116.424626768), (3.184332955, -116.495249758), (2.942679865, -116.608198219), (2.718840309, -116.735817229), (2.525804645, -116.895504967), (2.351663826, -117.06954252), (2.205860677, -117.266948572), (2.084614049, -117.480848146), (2.006076015, -117.716918532), (1.948805302, -117.966145907), (1.944532402, -118.139739939), (1.942352941, -118.228284314)],
                knots=[0, 0, 0, 0, 1.159100913, 2.247944337, 3.301963364, 4.322203238, 5.306638987, 6.257145066, 7.193841607, 8.131829567, 9.071864958, 10.007877085, 10.983886281, 12, 12, 12, 12], degree=3))
            add(Edge.make_bspline(
                [(1.942352941, -118.228284314), (1.949031284, -118.351609409), (1.962012851, -118.591332492), (2.078543183, -118.932570023), (2.275975601, -119.230977841), (2.538899021, -119.489874585), (2.859494616, -119.695110648), (3.219184028, -119.847237085), (3.614969422, -119.934652524), (3.889465343, -119.946589818), (4.031004902, -119.952745098)],
                knots=[0, 0, 0, 0, 0.976469849, 1.898091887, 2.820632736, 3.792824454, 4.804409425, 5.822739039, 6.877329201, 8, 8, 8, 8], degree=3))
            add(Edge.make_bspline(
                [(4.031004902, -119.952745098), (4.173676734, -119.947027996), (4.449626377, -119.935970226), (4.845443805, -119.843138475), (5.205858473, -119.692440852), (5.5262161, -119.485656096), (5.792340565, -119.229006795), (5.989565911, -118.929321811), (6.105911534, -118.589249373), (6.119116744, -118.350570163), (6.125882353, -118.228284314)],
                knots=[0, 0, 0, 0, 1.129790696, 2.185191953, 3.202539324, 4.213148559, 5.190270146, 6.111921147, 7.032654223, 8, 8, 8, 8], degree=3))
        make_face(mode=Mode.SUBTRACT)
        with BuildLine():
            add(Edge.make_bspline(
                [(6.524313725, -122.891176471), (6.520920106, -122.784069548), (6.514346152, -122.576587224), (6.457940803, -122.276145516), (6.360243009, -122.001268427), (6.229636966, -121.747680515), (6.058383341, -121.524547206), (5.861403172, -121.319861355), (5.625352542, -121.150730147), (5.361894512, -121.006677276), (5.069527463, -120.890509463), (4.748625434, -120.807841497), (4.399931987, -120.756977985), (4.158809369, -120.752120035), (4.034117647, -120.749607843)],
                knots=[0, 0, 0, 0, 1.039609951, 2.013881847, 2.953999013, 3.864434323, 4.771294027, 5.676192345, 6.613334877, 7.578339998, 8.586868343, 9.659784589, 10.789804577, 12, 12, 12, 12], degree=3))
            add(Edge.make_bspline(
                [(4.034117647, -120.749607843), (3.909429768, -120.752131017), (3.668314581, -120.757010204), (3.319569101, -120.807725005), (2.99791307, -120.891154926), (2.704071746, -121.0060513), (2.440098851, -121.149817241), (2.206601469, -121.320933406), (2.00975895, -121.524422815), (1.838623351, -121.747713983), (1.707985337, -122.001259134), (1.610296441, -122.276148125), (1.553888608, -122.576586511), (1.547315006, -122.784069305), (1.543921569, -122.891176471)],
                knots=[0, 0, 0, 0, 1.210068076, 2.339969154, 3.412772499, 4.430563009, 5.395466584, 6.324404951, 7.229208048, 8.135972324, 9.046311831, 9.98633007, 10.960499445, 12, 12, 12, 12], degree=3))
            add(Edge.make_bspline(
                [(1.543921569, -122.891176471), (1.544985709, -122.975375962), (1.547058013, -123.139345961), (1.584332291, -123.377568996), (1.635643144, -123.60328801), (1.710828263, -123.816382724), (1.807662765, -124.01525168), (1.923393036, -124.202835216), (2.065441305, -124.372501414), (2.222512089, -124.532765628), (2.401927227, -124.670707654), (2.59105853, -124.797903891), (2.798953829, -124.900320608), (3.020681135, -124.982957849), (3.253996345, -125.05338774), (3.502487363, -125.098599125), (3.763661295, -125.12731722), (3.942730319, -125.130651369), (4.034117647, -125.132352941)],
                knots=[0, 0, 0, 0, 1.068010984, 2.079843423, 3.054621512, 4.004777055, 4.941776883, 5.859399066, 6.795750163, 7.746088411, 8.702980793, 9.664127459, 10.636408857, 11.637286391, 12.667146169, 13.726670379, 14.839813183, 16, 16, 16, 16], degree=3))
            add(Edge.make_bspline(
                [(4.034117647, -125.132352941), (4.125501134, -125.13064464), (4.304562631, -125.127297307), (4.56680524, -125.098562307), (4.815810816, -125.052774976), (5.050277608, -124.987318412), (5.270990902, -124.903366885), (5.475354786, -124.796869735), (5.667389124, -124.674485413), (5.845554591, -124.535609475), (6.002838181, -124.375684848), (6.144831297, -124.205929646), (6.260573544, -124.018369128), (6.357414326, -123.819495237), (6.432561156, -123.606396774), (6.484253282, -123.379696319), (6.520966694, -123.140347845), (6.523182823, -122.975367067), (6.524313725, -122.891176471)],
                knots=[0, 0, 0, 0, 1.159544989, 2.272071989, 3.343950718, 4.369611888, 5.357637803, 6.335341631, 7.288798869, 8.245161887, 9.194974397, 10.130807493, 11.047922037, 11.984403507, 12.934033413, 13.908272243, 14.932579852, 16, 16, 16, 16], degree=3))
        make_face(mode=Mode.SUBTRACT)
    extrude(amount=-CUT_EXTRUDE2_DEPTH, mode=Mode.SUBTRACT)

    # Fillet1
    fillet1_edges = [part.edges().sort_by_distance(p)[0] for p in [
        (91.252255377, 2.9972, 355.6),
        (-91.252255377, 2.9972, 355.6),
        (-67.945, 2.9972, 0),
        (67.945, 2.9972, 0),
    ]]
    fillet(fillet1_edges, radius=FILLET1_R)


solid = part.part
